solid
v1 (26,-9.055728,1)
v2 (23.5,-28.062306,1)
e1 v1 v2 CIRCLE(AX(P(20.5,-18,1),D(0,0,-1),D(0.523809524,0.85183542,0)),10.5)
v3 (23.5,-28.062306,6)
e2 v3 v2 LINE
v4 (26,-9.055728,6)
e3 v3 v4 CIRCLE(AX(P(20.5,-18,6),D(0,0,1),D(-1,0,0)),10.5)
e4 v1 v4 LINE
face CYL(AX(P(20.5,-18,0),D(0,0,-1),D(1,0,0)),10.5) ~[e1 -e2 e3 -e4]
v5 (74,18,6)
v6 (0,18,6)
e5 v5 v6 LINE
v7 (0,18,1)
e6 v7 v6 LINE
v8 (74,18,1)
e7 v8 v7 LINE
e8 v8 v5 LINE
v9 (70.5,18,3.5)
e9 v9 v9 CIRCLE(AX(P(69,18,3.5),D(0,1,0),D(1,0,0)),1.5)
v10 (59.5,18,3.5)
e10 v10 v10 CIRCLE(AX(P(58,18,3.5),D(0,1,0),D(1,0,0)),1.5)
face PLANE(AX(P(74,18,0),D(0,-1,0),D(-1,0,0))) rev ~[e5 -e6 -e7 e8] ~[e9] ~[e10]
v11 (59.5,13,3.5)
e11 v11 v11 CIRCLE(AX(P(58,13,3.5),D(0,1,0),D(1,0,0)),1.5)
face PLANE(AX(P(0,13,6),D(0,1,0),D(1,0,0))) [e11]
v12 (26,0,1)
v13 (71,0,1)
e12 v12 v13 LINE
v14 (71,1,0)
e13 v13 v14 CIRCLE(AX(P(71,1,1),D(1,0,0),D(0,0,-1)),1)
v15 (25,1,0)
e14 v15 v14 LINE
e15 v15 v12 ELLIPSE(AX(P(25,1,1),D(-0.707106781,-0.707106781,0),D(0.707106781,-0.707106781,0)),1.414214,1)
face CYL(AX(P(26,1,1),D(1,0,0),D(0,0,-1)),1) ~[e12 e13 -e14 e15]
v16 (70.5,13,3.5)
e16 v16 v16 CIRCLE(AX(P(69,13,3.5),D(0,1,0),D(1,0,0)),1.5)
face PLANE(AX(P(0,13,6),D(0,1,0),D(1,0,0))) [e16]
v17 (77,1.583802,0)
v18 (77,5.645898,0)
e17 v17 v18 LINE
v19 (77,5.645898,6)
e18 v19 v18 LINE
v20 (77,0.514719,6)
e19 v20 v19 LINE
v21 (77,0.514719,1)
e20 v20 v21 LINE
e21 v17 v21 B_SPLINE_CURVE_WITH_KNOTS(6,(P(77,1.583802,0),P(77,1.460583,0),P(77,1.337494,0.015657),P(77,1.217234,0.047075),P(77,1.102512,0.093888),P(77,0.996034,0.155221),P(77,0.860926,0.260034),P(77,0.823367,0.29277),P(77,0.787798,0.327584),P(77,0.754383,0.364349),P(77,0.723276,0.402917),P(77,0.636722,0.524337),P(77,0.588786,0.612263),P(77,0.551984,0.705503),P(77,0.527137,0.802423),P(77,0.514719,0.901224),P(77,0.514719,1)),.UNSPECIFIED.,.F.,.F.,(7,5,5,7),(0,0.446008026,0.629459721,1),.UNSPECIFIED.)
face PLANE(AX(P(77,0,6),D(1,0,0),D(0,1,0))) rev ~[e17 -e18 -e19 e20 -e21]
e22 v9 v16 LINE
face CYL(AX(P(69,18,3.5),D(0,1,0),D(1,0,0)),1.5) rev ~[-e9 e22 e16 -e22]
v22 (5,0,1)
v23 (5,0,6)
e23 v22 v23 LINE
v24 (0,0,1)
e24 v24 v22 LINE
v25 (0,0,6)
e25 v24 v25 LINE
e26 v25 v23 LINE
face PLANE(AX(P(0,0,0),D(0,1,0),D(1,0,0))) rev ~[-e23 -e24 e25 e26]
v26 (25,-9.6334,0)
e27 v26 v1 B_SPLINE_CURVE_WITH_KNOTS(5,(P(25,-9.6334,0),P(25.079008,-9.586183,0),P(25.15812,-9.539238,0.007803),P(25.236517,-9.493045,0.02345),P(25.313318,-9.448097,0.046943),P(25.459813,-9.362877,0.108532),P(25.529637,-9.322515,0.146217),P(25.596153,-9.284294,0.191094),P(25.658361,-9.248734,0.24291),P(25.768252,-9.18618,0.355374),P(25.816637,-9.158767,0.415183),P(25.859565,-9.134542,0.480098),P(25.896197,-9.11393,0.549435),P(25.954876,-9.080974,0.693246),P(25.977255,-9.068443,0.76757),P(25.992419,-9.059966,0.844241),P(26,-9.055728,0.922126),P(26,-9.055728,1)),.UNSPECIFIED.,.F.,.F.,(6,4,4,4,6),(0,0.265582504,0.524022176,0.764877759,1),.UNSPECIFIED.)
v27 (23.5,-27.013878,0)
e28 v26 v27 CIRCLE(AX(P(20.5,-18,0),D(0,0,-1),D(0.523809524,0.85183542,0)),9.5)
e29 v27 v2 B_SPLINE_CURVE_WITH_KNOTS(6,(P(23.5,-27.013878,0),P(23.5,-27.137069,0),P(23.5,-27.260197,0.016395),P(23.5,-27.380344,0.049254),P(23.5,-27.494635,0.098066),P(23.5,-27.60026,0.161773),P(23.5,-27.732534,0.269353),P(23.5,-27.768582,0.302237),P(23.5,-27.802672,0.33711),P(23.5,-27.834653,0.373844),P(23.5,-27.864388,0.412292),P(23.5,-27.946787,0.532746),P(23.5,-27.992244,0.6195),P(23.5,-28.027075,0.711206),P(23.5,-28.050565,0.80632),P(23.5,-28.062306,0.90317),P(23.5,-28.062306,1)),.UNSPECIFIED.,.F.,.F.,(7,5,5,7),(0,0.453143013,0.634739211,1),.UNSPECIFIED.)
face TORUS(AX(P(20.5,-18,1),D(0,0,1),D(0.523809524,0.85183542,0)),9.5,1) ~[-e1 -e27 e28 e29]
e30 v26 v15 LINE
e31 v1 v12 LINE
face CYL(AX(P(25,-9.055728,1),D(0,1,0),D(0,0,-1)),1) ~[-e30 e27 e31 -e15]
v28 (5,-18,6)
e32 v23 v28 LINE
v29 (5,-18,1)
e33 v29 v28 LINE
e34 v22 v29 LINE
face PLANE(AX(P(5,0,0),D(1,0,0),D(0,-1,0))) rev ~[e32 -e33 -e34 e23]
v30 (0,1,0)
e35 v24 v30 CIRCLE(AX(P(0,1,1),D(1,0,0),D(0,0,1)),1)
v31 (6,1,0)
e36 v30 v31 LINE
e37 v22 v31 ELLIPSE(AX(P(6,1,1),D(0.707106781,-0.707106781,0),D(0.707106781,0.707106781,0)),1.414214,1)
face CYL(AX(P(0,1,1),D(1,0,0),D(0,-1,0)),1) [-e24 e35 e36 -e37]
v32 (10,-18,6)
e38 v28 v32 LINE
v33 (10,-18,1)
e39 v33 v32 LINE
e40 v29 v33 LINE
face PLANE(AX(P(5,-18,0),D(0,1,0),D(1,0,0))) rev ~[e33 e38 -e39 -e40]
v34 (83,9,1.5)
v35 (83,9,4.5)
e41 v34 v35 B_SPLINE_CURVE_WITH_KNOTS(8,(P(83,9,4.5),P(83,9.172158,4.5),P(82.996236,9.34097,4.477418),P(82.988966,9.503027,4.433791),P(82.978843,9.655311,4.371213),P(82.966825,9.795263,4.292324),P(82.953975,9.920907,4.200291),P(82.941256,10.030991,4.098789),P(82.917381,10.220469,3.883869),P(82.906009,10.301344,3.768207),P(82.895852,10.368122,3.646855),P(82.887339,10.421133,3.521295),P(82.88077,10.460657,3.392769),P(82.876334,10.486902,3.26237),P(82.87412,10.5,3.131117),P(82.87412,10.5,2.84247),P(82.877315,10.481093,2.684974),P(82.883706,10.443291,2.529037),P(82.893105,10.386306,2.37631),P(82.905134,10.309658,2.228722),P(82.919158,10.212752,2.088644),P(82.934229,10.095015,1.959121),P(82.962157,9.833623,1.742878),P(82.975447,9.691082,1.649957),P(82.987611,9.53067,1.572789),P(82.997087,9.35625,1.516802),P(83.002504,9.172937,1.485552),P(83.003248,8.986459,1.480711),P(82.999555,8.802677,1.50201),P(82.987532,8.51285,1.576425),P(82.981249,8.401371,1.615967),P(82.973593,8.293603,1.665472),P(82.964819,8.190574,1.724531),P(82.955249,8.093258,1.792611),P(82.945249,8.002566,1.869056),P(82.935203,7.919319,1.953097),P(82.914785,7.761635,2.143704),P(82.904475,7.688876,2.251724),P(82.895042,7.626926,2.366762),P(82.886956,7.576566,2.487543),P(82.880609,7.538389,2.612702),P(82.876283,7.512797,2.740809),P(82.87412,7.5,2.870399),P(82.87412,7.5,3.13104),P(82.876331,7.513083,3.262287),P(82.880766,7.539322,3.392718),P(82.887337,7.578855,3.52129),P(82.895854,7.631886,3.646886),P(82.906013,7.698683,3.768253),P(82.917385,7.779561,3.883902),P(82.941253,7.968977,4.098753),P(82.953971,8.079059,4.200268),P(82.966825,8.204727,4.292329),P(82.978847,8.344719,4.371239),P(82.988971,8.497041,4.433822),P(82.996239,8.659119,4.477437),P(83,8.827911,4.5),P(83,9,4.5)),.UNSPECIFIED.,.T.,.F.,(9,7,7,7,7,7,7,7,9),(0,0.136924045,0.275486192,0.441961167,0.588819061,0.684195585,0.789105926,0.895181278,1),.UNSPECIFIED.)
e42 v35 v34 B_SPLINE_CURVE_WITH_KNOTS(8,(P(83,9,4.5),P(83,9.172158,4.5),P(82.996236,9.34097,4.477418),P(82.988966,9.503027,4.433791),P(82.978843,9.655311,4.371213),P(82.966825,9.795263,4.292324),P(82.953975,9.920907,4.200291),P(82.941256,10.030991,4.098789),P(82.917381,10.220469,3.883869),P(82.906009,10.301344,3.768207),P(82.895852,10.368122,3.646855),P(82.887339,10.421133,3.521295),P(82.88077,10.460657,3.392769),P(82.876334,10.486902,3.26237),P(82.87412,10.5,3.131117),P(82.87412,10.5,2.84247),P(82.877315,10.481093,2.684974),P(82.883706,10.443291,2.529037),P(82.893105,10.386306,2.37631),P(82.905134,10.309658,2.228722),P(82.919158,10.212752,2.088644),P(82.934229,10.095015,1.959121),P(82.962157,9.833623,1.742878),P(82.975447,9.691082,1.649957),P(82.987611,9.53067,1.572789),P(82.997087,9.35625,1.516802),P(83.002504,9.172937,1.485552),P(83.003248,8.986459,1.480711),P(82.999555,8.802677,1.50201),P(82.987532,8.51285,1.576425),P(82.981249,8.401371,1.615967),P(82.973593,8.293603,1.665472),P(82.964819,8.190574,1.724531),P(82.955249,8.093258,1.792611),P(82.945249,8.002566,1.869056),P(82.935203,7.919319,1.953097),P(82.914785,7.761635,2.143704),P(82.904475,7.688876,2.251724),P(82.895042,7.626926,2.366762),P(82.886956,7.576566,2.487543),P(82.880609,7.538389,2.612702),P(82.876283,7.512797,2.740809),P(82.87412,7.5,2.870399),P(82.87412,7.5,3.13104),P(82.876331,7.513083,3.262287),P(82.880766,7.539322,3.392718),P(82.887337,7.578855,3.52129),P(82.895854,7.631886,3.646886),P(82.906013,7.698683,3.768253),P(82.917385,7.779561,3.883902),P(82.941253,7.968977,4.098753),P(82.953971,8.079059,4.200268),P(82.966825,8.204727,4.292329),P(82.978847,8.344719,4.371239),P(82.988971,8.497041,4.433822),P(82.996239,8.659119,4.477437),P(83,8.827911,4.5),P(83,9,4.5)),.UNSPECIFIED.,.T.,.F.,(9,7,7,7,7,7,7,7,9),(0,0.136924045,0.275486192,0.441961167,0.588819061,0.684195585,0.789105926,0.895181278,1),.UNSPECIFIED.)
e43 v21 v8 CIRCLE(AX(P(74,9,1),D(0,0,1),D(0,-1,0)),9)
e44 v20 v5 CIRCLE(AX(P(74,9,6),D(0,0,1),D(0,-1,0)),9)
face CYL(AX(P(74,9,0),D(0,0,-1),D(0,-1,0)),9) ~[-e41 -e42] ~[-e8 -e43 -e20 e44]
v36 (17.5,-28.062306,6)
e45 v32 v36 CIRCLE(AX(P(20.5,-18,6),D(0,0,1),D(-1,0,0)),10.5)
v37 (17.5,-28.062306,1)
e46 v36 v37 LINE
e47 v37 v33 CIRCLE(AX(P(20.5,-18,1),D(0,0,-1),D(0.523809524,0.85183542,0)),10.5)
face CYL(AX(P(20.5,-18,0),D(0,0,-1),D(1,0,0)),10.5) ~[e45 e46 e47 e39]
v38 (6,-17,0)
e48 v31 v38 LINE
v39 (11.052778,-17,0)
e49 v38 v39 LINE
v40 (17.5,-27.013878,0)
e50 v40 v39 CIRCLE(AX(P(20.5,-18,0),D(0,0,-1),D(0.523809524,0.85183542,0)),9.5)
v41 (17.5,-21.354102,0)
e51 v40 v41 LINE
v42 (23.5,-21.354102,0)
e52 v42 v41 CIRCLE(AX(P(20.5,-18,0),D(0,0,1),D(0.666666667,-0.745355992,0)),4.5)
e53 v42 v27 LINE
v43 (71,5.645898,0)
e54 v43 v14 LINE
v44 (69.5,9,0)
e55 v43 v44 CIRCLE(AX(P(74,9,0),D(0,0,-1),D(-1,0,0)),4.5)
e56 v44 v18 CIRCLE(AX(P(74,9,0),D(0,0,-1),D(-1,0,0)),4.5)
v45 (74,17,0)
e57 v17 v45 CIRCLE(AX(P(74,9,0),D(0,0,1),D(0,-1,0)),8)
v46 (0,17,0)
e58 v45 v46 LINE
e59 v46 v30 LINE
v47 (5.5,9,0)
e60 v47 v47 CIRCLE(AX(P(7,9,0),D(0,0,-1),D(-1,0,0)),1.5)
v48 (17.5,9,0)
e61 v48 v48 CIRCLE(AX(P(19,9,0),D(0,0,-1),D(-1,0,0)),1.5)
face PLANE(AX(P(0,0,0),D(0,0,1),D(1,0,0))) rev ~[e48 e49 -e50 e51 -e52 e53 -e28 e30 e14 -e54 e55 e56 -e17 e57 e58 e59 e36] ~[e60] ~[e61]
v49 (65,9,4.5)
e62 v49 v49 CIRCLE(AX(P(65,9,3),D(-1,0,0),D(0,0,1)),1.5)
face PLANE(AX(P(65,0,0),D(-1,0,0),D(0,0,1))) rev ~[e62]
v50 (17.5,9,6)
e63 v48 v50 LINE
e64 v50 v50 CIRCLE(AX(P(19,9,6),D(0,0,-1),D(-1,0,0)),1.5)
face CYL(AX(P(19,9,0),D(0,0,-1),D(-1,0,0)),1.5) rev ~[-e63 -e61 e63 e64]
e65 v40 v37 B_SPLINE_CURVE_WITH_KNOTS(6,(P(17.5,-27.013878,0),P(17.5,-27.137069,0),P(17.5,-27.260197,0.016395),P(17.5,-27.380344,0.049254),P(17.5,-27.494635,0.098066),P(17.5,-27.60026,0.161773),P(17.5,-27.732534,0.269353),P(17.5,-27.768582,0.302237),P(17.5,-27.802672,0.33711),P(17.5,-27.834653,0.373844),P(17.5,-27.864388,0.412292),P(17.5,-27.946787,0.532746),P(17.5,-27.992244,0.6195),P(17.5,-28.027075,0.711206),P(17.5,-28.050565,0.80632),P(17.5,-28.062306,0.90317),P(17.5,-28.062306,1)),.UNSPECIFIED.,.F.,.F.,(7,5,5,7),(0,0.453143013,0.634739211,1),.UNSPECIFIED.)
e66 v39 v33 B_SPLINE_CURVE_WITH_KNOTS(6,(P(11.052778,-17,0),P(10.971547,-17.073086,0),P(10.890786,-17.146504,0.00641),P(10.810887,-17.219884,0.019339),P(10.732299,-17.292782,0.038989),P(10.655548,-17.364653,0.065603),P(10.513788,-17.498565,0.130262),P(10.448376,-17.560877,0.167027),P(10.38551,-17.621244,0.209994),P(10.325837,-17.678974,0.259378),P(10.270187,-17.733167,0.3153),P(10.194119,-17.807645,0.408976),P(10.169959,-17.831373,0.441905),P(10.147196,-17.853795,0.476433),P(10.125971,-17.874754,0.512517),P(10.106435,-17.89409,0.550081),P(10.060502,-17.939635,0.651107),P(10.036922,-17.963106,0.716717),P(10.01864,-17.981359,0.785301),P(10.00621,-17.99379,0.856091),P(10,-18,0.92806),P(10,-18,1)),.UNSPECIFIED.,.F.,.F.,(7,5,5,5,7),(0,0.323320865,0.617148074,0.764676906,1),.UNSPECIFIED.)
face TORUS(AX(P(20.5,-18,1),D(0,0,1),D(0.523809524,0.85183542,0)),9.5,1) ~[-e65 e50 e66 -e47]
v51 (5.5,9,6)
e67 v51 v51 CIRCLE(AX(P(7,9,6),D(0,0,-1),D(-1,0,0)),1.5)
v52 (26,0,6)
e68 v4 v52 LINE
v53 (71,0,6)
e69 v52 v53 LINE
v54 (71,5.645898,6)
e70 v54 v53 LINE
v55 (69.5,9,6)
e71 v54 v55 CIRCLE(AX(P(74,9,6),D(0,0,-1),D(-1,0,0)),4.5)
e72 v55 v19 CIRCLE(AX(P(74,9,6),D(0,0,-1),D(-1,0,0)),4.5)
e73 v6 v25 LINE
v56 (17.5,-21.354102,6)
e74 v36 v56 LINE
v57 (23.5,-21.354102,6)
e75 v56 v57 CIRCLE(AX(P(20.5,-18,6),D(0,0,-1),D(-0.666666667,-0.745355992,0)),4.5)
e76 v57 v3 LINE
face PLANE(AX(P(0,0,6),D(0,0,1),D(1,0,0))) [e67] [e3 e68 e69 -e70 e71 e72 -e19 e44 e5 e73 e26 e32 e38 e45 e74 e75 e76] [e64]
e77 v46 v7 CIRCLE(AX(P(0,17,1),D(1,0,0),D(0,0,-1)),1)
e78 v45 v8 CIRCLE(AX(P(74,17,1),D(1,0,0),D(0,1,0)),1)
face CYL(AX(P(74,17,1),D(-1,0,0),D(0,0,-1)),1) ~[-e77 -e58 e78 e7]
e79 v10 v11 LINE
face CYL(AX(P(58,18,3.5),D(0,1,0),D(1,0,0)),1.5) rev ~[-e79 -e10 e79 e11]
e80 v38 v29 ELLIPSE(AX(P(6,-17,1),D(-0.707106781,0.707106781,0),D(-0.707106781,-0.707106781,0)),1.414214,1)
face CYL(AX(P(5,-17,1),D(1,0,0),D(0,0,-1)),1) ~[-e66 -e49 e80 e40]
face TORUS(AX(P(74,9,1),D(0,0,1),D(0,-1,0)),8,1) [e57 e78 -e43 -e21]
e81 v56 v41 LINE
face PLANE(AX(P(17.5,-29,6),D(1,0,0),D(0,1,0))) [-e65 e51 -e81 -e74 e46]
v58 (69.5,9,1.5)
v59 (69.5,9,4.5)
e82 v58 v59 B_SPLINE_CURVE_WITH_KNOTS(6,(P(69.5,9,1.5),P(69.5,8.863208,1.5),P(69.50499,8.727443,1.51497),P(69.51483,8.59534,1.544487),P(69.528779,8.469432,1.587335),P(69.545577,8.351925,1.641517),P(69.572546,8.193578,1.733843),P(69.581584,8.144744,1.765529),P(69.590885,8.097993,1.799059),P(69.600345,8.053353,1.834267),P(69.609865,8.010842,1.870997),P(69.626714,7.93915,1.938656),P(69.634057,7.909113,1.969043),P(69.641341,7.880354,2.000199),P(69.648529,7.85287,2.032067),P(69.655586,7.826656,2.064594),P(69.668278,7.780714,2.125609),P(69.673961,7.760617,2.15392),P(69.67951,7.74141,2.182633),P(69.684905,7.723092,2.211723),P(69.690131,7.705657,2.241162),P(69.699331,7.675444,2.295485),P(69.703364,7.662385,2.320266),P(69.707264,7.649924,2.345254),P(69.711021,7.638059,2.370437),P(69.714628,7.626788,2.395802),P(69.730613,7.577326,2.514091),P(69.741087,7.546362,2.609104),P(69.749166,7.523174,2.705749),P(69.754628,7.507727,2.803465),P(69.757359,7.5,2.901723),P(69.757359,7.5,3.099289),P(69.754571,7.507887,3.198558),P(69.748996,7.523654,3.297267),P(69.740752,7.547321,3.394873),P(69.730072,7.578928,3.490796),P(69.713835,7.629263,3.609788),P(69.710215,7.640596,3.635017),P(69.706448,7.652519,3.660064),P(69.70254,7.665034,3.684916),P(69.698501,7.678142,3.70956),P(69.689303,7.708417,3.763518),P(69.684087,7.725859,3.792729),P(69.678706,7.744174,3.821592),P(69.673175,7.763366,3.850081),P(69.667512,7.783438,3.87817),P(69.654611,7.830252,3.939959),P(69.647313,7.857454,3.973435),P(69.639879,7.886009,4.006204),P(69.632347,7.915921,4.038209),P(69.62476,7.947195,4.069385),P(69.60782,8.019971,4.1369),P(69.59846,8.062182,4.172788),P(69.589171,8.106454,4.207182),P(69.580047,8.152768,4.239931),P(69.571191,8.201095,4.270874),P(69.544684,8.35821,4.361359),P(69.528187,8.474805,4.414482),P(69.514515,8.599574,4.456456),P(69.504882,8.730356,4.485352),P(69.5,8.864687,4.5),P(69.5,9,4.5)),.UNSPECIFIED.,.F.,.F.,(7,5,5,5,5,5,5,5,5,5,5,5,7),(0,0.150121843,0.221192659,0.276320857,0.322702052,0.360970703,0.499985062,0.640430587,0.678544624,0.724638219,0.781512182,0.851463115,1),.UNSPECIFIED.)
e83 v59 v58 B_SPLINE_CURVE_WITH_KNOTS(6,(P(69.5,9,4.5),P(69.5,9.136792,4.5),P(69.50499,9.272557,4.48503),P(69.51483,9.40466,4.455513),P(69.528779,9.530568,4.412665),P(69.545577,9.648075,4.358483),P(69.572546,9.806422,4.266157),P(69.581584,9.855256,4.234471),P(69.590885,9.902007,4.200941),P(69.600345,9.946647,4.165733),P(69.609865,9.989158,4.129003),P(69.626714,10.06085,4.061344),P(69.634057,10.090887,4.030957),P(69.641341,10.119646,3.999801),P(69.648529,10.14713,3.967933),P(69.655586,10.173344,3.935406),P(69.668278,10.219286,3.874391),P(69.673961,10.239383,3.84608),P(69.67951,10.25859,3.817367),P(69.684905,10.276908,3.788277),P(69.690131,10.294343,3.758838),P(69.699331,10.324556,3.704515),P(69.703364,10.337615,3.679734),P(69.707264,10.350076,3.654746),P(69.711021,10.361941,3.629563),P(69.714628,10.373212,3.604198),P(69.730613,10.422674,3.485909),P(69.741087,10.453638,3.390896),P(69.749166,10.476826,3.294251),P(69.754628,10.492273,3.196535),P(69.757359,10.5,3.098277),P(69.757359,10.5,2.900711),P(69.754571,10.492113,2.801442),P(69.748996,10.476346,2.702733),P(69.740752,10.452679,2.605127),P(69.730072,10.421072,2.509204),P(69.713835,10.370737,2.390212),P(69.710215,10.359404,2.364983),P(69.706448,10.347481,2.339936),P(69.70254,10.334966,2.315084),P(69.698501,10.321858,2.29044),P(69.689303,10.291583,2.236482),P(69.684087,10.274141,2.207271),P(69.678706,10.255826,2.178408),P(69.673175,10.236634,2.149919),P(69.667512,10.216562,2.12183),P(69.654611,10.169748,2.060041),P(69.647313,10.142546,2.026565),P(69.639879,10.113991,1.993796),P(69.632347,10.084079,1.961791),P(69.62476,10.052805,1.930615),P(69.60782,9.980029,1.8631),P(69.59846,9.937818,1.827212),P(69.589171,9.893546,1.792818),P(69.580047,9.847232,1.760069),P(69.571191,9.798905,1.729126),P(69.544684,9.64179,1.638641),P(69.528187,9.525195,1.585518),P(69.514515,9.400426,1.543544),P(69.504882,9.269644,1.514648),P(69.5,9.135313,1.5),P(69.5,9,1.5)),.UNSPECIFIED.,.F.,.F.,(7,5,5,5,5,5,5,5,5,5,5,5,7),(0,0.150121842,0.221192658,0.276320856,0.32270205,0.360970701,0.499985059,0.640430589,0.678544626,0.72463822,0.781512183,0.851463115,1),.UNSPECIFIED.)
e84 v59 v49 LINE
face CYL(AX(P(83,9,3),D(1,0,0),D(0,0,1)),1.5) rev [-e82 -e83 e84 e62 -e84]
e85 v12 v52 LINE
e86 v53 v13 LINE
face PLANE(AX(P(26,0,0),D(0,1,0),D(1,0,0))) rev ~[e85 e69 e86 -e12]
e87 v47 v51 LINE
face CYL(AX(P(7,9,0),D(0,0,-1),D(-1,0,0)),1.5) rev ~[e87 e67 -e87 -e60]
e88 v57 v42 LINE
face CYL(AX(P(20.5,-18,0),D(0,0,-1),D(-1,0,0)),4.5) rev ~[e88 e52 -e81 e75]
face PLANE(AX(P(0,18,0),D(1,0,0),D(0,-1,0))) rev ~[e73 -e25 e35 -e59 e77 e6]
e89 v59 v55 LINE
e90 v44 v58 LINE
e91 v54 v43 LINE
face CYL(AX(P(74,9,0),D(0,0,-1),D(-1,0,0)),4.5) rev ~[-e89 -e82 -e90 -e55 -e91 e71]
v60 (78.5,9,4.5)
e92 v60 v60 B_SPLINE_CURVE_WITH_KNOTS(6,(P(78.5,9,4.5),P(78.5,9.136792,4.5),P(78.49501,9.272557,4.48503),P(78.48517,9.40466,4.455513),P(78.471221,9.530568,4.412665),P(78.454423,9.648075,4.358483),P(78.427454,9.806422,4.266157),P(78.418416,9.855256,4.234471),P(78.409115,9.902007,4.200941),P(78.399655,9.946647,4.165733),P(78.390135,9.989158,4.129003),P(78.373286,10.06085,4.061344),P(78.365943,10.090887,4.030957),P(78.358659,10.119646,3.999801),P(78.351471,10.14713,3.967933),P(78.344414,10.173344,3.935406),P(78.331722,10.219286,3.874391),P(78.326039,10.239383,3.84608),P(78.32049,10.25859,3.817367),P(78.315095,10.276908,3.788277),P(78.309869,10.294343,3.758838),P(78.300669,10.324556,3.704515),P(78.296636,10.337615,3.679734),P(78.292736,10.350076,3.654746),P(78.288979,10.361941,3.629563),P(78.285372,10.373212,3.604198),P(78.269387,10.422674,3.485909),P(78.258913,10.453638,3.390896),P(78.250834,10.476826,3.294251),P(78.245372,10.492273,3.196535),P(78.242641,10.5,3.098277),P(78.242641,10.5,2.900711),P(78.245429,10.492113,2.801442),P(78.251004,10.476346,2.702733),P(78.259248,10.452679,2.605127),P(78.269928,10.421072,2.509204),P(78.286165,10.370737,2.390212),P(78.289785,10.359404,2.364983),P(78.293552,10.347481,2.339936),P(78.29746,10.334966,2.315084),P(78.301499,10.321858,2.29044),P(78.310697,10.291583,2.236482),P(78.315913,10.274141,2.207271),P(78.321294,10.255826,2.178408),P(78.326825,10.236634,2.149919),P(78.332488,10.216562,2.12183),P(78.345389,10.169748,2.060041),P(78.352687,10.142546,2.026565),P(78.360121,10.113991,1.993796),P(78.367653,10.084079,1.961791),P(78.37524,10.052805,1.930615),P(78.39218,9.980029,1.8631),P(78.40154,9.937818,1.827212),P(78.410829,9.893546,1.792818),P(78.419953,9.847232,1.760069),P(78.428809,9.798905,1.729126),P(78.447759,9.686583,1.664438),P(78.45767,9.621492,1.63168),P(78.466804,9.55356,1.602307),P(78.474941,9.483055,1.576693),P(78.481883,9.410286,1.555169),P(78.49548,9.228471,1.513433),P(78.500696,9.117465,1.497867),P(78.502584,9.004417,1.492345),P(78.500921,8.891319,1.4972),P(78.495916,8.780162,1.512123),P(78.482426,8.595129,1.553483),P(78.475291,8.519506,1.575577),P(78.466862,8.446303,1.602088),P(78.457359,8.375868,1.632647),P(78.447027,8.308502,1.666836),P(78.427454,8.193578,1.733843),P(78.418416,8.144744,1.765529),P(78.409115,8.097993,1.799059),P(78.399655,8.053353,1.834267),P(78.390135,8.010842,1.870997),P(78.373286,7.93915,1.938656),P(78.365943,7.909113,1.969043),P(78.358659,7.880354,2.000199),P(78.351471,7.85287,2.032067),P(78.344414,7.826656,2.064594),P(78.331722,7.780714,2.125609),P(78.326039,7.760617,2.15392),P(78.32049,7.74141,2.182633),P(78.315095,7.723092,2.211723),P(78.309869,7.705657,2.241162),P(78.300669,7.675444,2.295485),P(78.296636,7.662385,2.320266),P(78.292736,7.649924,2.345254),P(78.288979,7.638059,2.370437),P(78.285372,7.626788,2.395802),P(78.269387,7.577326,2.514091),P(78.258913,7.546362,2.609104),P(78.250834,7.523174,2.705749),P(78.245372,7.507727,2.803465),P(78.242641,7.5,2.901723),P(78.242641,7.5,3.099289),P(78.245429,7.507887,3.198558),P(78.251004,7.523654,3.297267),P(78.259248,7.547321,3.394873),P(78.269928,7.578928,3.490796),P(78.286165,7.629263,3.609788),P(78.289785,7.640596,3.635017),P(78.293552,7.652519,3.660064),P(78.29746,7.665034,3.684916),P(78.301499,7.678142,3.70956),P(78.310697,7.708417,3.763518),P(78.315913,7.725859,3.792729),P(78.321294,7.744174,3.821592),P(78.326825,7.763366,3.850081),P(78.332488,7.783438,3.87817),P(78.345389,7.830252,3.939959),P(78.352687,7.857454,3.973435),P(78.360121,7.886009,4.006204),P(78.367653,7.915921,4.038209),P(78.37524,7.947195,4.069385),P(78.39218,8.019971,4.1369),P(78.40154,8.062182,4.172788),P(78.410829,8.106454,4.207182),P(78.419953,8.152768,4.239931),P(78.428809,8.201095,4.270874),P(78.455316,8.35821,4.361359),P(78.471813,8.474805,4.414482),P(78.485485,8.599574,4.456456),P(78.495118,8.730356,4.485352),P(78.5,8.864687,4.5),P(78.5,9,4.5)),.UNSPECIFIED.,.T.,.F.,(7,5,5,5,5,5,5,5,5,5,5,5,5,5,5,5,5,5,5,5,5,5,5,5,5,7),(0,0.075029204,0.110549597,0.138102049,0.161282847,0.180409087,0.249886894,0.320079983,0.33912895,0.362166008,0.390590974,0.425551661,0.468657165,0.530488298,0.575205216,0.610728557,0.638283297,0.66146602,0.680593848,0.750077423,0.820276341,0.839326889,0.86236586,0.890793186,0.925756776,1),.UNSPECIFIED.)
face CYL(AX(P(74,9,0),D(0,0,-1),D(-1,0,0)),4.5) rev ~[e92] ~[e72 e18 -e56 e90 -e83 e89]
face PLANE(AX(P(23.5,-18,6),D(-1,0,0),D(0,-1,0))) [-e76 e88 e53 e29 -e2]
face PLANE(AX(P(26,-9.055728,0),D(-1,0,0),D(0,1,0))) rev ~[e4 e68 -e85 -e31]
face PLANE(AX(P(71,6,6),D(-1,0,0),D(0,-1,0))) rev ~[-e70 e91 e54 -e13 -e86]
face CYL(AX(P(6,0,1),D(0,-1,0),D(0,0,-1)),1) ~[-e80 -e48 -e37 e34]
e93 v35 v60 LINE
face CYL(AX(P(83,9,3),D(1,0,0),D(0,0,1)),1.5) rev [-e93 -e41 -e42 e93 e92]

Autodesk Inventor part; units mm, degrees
ref_plane "YZ Plane" through (0, 0, 0) normal (1, 0, 0) x (0, 1, 0)
ref_plane "XZ Plane" through (0, 0, 0) normal (0, 1, 0) x (-1, 0, 0)
sketch "Sketch1" plane through (0, 0, 0) normal (0, 0, 1) x (1, 0, 0)
  line L0 (0, 0) -> (5, 0)
  line L1 (5, 0) -> (5, -18)
  line L2 (5, -18) -> (26, -18)
  line L3 (26, -18) -> (26, 0)
  line L4 (26, 0) -> (74, 0)
  arc A0 (74, 0) -> (74, 18) centre (74, 9) ccw
  line L5 (74, 18) -> (0, 18)
  line L6 (0, 18) -> (0, 0)
  circle A1 centre (20.5, -18) radius 10.5
  dimension "d0" = 5
  dimension "d1" = 18
  dimension "d2" = 21
  dimension "d3" = 18
  dimension "d4" = 48
  dimension "d5" = 18
  dimension "d6" = 9
  dimension "d7" = 74
  dimension "d8" = 21
extrude "Extrusion1" add sketch "Sketch1" along normal blind 6
sketch "Sketch2" plane through (0, 0, 0) normal (0, 0, -1) x (-1, 0, 0)
  circle A0 centre (-74, 9) radius 4.5
  arc A1 (-26, -9.0557) -> (-10, -18) centre (-20.5, -18) ccw projected
  circle A2 centre (-20.5, -18) radius 4.5
  point P0 (0, 0)
  dimension "d11" = 9
  dimension "d12" = 9
extrude "Extrusion2" cut sketch "Sketch2" against normal through all
sketch "Sketch3" plane through (0, 0, 0) normal (0, 0, -1) x (-1, 0, 0)
  circle A0 centre (-7, 9) radius 1.5
  circle A1 centre (-19, 9) radius 1.5
  point P0 (0, 0)
  dimension "d16" = 3
  dimension "d17" = 3
extrude "Extrusion3" cut sketch "Sketch3" against normal through all
ref_plane "Work Plane1" through (83, 0, 0) normal (-1, 0, 0) x (0, 0, 1)
sketch "Sketch4" plane through (83, 0, 0) normal (-1, 0, 0) x (0, 0, 1)
  circle A0 centre (3, 9) radius 1.5
  point P0 (0, 0)
  dimension "d22" = 3
extrude "Extrusion4" cut sketch "Sketch4" along normal blind 18
fillet "Fillet3" radius 1 8 edges at (83, 9, 0) (50, 0, 0) (37, 18, 0) (2.5, 0, 0) (5, -9, 0) (25.6235, -27.1652, 0) (7.5, -18, 0) (26, -4.5279, 0)
sketch "Sketch5" plane through (0, 18, 6) normal (0, 1, 0) x (1, 0, 0)
  circle A0 centre (69, 2.5) radius 1.5
  circle A1 centre (58, 2.5) radius 1.5
  point P0 (0, 6)
  dimension "d26" = 3
  dimension "d27" = 3
extrude "Extrusion5" cut sketch "Sketch5" against normal blind 5
sketch "Sketch6" plane through (0, 0, 6) normal (0, 0, 1) x (1, 0, 0)
  line L0 (71, 0) -> (77, 0)
  line L1 (77, 0) -> (77, 6)
  line L2 (77, 6) -> (71, 6)
  line L3 (71, 6) -> (71, 0)
  line L4 (17.5, -18) -> (23.5, -18)
  line L5 (23.5, -18) -> (23.5, -29)
  line L6 (23.5, -29) -> (17.5, -29)
  line L7 (17.5, -29) -> (17.5, -18)
  point P0 (0, 0)
  dimension "d30" = 6
  dimension "d31" = 6
  dimension "d32" = 6
  dimension "d33" = 11
extrude "Extrusion6" cut sketch "Sketch6" against normal through all
properties part number "Hand - Digit 0-1"
